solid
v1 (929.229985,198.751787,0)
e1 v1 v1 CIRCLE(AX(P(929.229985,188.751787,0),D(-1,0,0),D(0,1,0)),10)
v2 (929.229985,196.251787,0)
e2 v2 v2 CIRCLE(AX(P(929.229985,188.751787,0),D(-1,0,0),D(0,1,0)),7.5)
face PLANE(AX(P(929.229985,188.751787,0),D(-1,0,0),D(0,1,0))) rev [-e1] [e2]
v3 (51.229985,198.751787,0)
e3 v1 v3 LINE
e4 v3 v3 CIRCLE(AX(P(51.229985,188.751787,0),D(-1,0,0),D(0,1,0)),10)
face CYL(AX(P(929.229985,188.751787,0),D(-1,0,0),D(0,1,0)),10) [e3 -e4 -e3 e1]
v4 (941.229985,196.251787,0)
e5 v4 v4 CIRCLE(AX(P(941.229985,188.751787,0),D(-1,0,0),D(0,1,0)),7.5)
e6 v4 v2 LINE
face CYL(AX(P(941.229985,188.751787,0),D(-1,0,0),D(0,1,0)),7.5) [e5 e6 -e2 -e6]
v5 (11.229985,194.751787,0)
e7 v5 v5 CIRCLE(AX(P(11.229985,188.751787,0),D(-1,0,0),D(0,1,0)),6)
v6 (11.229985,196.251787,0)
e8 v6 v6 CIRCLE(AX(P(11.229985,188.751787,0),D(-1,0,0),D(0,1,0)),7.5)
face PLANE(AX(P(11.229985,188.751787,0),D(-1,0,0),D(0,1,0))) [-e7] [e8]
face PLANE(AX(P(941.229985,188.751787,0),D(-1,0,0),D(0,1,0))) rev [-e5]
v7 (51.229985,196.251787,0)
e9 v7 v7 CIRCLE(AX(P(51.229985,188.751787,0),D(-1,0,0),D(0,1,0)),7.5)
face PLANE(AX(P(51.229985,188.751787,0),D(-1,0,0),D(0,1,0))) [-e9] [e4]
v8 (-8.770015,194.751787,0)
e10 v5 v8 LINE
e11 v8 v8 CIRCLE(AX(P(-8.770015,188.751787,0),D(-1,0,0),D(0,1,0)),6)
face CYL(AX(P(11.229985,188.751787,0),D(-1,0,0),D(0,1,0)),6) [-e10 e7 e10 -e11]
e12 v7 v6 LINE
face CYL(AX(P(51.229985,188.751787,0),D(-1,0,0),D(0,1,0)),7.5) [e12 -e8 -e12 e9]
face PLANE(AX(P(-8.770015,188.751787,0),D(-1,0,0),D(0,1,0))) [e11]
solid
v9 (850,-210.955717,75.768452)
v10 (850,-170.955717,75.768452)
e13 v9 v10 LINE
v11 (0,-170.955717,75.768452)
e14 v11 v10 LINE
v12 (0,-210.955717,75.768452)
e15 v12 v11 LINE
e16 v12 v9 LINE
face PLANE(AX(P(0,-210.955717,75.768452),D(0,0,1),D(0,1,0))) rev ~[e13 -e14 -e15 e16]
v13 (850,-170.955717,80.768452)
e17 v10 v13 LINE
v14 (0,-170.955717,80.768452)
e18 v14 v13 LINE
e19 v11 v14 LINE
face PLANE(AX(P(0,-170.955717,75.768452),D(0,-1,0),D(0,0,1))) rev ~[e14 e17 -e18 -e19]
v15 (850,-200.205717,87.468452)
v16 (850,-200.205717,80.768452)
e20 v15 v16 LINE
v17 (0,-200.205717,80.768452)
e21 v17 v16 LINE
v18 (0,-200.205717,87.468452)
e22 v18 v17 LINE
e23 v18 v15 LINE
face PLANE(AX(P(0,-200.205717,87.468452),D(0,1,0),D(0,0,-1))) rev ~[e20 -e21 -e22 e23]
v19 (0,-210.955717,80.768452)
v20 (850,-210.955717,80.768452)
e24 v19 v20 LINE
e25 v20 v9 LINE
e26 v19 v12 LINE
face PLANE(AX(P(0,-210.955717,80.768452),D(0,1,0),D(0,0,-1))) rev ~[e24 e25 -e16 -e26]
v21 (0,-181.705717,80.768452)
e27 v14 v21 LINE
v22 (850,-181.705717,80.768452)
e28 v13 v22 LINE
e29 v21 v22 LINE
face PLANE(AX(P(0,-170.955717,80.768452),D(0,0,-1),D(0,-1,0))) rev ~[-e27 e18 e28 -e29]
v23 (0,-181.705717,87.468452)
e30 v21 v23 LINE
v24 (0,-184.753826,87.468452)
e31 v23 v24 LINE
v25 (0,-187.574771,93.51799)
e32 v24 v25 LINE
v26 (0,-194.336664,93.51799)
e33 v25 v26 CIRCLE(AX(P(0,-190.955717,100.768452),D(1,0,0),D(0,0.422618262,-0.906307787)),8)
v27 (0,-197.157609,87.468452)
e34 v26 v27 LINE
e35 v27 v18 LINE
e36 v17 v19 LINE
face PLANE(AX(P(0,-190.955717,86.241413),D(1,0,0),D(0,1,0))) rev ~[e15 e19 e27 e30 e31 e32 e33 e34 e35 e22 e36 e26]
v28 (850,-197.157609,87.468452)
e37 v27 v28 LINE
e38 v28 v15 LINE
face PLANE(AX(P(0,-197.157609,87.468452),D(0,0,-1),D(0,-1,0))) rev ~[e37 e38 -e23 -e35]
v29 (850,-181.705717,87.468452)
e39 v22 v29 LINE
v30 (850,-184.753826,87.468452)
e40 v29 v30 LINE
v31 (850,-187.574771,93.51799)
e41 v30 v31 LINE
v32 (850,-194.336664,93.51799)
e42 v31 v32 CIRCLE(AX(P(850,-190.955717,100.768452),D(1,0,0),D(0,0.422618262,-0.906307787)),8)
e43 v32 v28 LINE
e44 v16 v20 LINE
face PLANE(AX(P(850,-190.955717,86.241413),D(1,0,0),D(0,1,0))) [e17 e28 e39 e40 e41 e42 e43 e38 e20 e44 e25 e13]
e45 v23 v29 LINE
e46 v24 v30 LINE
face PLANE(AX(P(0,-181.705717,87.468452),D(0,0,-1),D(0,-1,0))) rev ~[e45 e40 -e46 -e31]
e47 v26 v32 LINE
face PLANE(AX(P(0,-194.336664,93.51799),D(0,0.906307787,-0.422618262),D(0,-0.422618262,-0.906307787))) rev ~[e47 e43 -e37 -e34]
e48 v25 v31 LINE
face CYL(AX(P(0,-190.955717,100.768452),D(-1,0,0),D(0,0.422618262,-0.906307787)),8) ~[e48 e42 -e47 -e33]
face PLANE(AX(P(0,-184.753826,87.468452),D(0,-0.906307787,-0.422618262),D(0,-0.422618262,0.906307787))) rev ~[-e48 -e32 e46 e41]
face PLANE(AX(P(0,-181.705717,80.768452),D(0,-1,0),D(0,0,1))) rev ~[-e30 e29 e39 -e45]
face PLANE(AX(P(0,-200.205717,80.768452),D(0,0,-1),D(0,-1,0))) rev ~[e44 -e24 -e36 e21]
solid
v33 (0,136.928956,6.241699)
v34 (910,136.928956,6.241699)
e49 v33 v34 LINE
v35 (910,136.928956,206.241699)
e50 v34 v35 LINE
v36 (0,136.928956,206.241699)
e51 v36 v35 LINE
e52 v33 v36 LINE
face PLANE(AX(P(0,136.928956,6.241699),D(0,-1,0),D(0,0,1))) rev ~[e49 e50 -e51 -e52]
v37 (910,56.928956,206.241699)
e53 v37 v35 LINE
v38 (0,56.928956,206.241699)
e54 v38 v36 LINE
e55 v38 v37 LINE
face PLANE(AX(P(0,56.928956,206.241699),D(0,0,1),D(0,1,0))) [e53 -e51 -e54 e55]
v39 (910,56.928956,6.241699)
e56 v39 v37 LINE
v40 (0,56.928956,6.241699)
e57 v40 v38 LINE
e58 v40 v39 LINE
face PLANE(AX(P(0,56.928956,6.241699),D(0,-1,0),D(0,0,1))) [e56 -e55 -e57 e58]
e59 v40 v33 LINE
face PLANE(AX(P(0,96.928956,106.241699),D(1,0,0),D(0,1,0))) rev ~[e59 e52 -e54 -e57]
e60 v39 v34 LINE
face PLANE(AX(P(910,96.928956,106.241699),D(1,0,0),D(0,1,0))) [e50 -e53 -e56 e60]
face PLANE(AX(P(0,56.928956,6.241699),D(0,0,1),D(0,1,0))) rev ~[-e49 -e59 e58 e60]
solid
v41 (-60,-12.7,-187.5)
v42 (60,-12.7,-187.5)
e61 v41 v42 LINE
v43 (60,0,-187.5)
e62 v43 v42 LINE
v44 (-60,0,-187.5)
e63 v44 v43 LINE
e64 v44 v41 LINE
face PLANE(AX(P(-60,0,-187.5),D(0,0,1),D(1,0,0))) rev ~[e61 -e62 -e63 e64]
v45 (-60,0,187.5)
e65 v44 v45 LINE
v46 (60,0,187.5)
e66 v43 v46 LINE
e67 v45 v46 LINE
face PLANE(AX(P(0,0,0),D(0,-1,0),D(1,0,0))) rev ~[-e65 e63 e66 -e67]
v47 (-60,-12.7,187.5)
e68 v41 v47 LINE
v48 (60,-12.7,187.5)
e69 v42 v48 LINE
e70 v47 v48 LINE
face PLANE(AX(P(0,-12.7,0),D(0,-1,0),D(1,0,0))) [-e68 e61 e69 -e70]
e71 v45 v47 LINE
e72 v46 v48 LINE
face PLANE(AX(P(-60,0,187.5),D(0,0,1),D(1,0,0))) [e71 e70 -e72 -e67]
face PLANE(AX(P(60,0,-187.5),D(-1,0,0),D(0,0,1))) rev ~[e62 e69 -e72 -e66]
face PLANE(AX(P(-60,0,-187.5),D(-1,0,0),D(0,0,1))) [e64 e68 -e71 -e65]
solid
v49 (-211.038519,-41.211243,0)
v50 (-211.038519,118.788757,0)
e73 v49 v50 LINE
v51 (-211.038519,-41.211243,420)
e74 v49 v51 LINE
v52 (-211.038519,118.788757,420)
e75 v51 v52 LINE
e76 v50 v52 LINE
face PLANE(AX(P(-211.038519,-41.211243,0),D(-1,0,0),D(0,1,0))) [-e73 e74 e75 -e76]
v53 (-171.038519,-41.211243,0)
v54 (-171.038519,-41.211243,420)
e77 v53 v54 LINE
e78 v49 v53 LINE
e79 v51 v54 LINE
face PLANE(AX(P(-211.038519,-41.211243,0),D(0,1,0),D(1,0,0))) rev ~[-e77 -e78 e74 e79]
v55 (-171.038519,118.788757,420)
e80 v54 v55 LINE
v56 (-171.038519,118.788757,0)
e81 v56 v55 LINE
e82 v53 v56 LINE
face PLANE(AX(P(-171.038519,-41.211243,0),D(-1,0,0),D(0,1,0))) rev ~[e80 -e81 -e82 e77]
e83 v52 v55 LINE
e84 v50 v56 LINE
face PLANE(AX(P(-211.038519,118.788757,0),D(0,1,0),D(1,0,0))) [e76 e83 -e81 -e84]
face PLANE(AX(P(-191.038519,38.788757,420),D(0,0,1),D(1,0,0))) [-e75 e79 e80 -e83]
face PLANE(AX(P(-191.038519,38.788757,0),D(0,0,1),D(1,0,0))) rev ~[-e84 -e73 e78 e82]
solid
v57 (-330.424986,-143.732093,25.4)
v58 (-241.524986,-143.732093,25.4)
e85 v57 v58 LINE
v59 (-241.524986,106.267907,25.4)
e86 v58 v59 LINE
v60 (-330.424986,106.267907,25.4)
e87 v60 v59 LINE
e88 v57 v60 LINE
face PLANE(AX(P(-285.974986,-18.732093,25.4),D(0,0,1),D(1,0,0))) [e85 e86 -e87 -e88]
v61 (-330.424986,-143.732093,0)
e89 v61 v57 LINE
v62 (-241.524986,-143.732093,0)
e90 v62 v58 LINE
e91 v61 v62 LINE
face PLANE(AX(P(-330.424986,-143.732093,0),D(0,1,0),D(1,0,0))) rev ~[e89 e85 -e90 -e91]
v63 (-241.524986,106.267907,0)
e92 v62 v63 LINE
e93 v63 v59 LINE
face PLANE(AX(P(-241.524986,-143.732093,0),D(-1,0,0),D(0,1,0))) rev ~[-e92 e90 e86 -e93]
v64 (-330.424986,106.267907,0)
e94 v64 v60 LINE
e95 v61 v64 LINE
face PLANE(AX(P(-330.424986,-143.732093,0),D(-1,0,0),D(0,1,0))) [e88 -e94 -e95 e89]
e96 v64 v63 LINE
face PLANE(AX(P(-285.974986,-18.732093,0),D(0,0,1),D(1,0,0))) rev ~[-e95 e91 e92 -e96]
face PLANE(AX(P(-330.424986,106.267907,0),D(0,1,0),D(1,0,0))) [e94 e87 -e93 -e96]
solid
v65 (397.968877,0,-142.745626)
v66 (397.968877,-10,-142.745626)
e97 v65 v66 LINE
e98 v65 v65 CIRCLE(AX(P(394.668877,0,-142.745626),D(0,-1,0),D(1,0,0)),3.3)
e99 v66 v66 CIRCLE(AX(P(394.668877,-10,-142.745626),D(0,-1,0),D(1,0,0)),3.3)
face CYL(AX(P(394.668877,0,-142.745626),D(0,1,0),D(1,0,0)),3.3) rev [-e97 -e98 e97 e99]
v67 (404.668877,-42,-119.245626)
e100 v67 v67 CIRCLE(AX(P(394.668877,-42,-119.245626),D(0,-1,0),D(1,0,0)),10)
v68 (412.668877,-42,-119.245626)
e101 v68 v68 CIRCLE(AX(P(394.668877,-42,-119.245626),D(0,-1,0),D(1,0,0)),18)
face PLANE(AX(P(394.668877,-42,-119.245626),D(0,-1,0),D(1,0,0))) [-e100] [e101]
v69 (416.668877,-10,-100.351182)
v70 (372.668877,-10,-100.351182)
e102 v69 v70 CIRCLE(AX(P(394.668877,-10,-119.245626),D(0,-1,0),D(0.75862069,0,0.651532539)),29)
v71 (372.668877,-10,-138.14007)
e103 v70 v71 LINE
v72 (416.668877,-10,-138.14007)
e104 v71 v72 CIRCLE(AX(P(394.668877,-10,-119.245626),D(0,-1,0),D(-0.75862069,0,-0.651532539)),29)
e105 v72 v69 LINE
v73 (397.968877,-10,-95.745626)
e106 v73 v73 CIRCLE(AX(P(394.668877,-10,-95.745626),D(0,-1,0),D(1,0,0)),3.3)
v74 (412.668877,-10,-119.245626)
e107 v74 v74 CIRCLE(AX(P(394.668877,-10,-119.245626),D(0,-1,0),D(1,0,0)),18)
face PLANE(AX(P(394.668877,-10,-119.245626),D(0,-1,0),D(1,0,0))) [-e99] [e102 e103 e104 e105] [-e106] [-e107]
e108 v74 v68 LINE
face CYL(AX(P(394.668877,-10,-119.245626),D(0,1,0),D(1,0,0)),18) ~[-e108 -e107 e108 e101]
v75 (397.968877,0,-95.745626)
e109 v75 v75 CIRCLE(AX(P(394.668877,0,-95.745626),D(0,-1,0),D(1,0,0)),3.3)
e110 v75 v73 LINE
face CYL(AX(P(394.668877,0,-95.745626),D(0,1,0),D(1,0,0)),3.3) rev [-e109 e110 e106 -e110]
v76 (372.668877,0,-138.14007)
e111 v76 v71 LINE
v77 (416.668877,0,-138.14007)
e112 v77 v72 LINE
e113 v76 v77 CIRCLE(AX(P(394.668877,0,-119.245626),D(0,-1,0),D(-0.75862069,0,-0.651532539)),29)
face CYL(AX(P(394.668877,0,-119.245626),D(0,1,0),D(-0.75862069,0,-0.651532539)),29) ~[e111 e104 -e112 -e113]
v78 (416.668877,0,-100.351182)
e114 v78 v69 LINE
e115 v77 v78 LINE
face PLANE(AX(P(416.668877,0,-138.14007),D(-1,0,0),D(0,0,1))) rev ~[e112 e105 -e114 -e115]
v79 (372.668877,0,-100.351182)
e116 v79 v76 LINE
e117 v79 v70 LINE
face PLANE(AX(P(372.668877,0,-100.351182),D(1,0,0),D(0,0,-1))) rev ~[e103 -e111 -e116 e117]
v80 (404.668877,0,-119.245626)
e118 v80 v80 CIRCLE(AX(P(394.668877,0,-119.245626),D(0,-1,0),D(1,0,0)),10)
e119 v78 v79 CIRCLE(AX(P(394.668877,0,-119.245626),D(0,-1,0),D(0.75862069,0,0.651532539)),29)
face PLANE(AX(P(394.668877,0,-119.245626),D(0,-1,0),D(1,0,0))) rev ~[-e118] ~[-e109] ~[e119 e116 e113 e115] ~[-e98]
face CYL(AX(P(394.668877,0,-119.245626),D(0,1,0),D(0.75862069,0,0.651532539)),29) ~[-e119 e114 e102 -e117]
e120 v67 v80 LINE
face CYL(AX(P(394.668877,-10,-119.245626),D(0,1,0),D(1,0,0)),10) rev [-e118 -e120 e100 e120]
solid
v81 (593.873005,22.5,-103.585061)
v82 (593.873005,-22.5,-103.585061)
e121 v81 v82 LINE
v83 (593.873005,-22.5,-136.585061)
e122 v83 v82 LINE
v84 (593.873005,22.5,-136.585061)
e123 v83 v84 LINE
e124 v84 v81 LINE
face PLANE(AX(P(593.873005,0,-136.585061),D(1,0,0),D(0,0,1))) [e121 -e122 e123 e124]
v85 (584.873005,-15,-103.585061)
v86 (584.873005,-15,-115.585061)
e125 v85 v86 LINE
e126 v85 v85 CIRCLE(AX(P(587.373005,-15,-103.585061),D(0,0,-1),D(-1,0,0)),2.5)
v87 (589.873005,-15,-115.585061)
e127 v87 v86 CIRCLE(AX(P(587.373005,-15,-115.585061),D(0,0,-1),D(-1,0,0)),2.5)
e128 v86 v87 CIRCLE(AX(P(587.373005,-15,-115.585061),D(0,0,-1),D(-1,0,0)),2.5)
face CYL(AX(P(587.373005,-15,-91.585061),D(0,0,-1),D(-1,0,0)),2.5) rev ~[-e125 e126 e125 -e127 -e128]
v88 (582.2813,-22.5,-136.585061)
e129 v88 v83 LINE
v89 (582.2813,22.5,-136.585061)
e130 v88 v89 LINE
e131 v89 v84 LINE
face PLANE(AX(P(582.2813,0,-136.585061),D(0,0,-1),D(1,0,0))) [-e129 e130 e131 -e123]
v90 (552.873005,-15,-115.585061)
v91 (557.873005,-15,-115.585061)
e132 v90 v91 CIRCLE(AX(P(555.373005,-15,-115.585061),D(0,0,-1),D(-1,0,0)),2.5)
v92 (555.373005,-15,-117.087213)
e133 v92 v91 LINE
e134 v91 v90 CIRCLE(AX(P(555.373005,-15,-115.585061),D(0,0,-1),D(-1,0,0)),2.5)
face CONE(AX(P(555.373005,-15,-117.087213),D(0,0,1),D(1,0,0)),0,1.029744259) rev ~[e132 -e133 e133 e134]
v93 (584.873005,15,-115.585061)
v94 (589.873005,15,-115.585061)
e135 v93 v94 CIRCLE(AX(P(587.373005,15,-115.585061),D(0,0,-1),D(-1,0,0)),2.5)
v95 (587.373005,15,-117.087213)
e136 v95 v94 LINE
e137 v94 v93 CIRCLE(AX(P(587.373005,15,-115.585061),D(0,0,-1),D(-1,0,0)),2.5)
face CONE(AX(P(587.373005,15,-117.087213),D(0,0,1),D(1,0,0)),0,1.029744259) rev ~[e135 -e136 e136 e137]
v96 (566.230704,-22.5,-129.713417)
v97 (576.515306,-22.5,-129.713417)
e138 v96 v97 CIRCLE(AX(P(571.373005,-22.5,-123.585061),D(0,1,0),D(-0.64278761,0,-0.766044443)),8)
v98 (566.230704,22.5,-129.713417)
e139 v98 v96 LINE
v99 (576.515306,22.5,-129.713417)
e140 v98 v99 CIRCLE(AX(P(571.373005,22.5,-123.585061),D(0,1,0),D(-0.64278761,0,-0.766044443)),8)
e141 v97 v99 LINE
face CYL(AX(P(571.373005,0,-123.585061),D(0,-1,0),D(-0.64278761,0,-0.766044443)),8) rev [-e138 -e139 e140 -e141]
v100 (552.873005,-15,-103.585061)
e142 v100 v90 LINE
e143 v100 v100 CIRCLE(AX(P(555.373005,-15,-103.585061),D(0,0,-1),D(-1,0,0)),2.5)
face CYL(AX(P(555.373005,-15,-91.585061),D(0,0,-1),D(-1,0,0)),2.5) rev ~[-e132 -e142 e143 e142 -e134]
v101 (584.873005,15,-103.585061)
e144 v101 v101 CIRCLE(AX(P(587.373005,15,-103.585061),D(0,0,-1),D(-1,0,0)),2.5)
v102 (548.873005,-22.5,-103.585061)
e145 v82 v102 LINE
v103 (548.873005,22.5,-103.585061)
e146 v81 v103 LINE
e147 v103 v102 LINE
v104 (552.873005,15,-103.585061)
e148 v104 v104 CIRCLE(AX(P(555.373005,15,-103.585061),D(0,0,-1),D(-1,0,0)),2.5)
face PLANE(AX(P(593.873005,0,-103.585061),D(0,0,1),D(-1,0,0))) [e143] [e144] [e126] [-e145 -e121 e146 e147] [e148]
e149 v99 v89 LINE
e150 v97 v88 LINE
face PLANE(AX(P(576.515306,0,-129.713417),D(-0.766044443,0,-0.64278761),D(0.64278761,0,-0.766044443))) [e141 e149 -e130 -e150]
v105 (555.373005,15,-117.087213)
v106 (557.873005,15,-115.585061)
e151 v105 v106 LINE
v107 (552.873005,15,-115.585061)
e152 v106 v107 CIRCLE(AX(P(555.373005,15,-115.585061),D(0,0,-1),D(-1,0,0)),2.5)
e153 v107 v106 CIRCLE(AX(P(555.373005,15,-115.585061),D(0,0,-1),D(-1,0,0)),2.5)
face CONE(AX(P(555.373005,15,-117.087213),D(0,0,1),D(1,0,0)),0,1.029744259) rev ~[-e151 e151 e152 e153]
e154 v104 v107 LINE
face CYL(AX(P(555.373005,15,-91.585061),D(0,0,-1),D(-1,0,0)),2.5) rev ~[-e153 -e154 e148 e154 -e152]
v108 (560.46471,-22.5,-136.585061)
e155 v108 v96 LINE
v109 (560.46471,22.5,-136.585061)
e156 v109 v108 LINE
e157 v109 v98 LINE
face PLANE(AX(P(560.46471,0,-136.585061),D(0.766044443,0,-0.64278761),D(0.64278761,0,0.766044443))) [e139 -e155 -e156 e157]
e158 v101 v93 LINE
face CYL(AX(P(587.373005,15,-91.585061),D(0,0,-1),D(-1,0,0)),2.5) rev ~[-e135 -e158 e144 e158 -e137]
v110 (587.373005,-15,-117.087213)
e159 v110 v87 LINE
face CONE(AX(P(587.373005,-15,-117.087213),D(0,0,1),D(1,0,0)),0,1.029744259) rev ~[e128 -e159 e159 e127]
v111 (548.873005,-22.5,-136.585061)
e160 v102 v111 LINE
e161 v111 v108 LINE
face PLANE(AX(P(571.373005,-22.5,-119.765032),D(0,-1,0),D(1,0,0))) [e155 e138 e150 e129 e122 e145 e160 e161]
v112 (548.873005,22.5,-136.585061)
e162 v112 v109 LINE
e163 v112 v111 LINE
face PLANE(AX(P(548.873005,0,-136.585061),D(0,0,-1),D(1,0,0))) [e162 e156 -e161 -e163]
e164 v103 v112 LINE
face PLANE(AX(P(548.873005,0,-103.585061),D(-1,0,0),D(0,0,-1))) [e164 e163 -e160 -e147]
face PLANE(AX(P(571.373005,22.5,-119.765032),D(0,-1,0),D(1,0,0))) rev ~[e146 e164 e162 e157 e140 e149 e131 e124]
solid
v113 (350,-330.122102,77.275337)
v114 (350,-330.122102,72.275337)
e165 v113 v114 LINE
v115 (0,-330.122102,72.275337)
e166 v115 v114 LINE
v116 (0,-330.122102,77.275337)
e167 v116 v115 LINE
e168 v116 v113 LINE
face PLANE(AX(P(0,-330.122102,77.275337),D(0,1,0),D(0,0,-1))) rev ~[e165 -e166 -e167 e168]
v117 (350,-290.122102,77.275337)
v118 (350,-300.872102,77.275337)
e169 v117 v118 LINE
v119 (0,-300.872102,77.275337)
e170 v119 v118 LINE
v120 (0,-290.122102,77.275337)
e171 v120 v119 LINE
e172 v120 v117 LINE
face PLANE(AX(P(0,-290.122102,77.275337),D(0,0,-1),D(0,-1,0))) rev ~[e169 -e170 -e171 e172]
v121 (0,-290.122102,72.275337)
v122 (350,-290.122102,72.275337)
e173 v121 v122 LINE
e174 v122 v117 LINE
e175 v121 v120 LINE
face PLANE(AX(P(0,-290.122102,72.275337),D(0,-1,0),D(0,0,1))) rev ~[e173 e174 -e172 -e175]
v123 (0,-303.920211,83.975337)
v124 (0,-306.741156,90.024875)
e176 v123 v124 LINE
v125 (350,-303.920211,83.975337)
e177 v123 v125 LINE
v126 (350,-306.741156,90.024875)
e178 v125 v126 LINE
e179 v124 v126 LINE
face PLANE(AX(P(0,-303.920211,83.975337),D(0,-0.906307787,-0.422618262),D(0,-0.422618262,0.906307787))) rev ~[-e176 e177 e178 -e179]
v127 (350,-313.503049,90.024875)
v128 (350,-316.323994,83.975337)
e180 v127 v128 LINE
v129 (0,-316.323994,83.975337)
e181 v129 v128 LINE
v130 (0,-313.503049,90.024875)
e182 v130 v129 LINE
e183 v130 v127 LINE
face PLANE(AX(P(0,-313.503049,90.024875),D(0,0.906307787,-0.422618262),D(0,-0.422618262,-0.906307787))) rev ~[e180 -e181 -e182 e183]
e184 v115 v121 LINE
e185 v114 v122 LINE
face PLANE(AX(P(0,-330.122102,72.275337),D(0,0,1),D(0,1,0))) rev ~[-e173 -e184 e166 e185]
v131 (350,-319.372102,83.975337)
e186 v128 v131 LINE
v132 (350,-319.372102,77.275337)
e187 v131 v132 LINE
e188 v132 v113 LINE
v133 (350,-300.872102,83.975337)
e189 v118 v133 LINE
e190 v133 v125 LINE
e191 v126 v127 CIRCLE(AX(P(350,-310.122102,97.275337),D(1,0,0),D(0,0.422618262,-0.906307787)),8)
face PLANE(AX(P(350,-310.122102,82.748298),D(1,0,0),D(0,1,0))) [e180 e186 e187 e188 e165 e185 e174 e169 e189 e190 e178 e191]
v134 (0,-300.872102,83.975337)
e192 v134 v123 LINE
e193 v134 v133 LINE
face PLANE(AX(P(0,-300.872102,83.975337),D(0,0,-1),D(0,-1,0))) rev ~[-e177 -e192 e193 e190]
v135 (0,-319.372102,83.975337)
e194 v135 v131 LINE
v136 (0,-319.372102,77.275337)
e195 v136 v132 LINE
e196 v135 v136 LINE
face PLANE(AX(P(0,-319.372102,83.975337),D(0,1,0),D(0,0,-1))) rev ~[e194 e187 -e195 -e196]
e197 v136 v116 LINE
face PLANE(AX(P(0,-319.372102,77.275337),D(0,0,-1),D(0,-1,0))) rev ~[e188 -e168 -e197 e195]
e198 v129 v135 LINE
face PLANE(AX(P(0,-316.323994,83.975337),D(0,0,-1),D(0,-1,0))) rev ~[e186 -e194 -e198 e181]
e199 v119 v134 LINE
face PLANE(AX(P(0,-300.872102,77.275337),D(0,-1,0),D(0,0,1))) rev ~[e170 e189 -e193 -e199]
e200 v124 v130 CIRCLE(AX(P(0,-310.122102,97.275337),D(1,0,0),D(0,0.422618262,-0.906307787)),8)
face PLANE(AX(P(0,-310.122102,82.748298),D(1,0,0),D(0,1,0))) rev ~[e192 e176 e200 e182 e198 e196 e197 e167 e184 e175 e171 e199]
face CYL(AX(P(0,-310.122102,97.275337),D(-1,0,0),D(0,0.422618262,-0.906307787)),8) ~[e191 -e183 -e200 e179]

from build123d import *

# Parameters (mm, degrees)
F0_W      = 120
F0_H      = 375
F1_DEPTH  = 12.7
F2_W      = 80
F2_H      = 200
F3_DEPTH  = 910
F4_W      = 40
F4_H      = 160
F5_DEPTH  = 420
F6_W      = 88.9
F6_H      = 250
F7_DEPTH  = 25.4
F9_DEPTH  = 22.5
F11_D     = 5
F11_DEPTH = 12
F11_TIP   = 1.5021515476
F12_R     = 3.3
F12_R_2   = 10
F13_DEPTH = 10
F14_R     = 18
F14_R_2   = 10
F15_DEPTH = 32
F19_DEPTH = 850
F21_DEPTH = 350


with BuildPart() as f1:
    # F0 (on Front) → F1 (new body)
    with BuildSketch(Plane.XZ):
        Rectangle(F0_W, F0_H)
    extrude(amount=F1_DEPTH)


with BuildPart() as f3:
    # F2 (on Right) → F3 (new body)
    with BuildSketch(Plane.YZ):
        with Locations((96.9289559871, 106.2416992025)):
            Rectangle(F2_W, F2_H)
    extrude(amount=F3_DEPTH)


with BuildPart() as f5:
    # F4 (on Top) → F5 (new body)
    with BuildSketch(Plane.XY):
        with Locations((-191.0385191441, 38.7887568785)):
            Rectangle(F4_W, F4_H)
    extrude(amount=F5_DEPTH)


with BuildPart() as f7:
    # F6 (on Top) → F7 (new body)
    with BuildSketch(Plane.XY):
        with Locations((-285.9749857664, -18.732093201)):
            Rectangle(F6_W, F6_H)
    extrude(amount=F7_DEPTH)


with BuildPart() as f9:
    # F8 (on Front) → F9 (new body, symmetric)
    with BuildSketch(Plane.XZ):
        with BuildLine():
            Line((593.8730051517, -136.5850613447), (593.8730051517, -103.5850613447))
            Line((593.8730051517, -103.5850613447), (548.8730051517, -103.5850613447))
            Line((548.8730051517, -103.5850613447), (548.8730051517, -136.5850613447))
            Line((548.8730051517, -136.5850613447), (560.4647099464, -136.5850613447))
            Line((560.4647099464, -136.5850613447), (566.2307042743, -129.7134168896))
            ThreePointArc((566.2307042743, -129.7134168896), (571.3730051517, -115.5850613447), (576.5153060292, -129.7134168896))
            Line((576.5153060292, -129.7134168896), (582.2813003571, -136.5850613447))
            Line((582.2813003571, -136.5850613447), (593.8730051517, -136.5850613447))
        make_face()
    extrude(amount=F9_DEPTH, both=True)

    # F11
    with Locations(Plane.XY.offset(-103.5850613447)):
        with Locations((555.3730051517, 15), (587.3730051517, 15), (587.3730051517, -15), (555.3730051517, -15)):
            Hole(F11_D / 2, depth=F11_DEPTH)
            with Locations((0, 0, -(F11_DEPTH + F11_TIP / 2))):  # 118° drill point
                Cone(0, F11_D / 2, F11_TIP, mode=Mode.SUBTRACT)


with BuildPart() as f13:
    # F12 (on Front) → F13 (new body)
    with BuildSketch(Plane.XZ):
        with BuildLine():
            Line((416.6688771248, -138.14006966), (416.6688771248, -100.3511824047))
            ThreePointArc((416.6688771248, -100.3511824047), (394.6688771248, -90.2456260324), (372.6688771248, -100.3511824047))
            Line((372.6688771248, -100.3511824047), (372.6688771248, -138.14006966))
            ThreePointArc((372.6688771248, -138.14006966), (394.6688771248, -148.2456260324), (416.6688771248, -138.14006966))
        make_face()
        with Locations((394.6688771248, -142.7456260324)):
            Circle(F12_R, mode=Mode.SUBTRACT)
        with Locations((394.6688771248, -119.2456260324)):
            Circle(F12_R_2, mode=Mode.SUBTRACT)
        with Locations((394.6688771248, -95.7456260324)):
            Circle(F12_R, mode=Mode.SUBTRACT)
    extrude(amount=F13_DEPTH)

    # F14 (on face) → F15 (join)
    with BuildSketch(Plane.XZ.offset(10)):
        with Locations((394.6688771248, -119.2456260324)):
            Circle(F14_R)
        with Locations((394.6688771248, -119.2456260324)):
            Circle(F14_R_2, mode=Mode.SUBTRACT)
    extrude(amount=F15_DEPTH)


with BuildPart() as f17:
    # F16 (on Top) → F17 (revolve)
    with BuildSketch(Plane.XY):
        Polygon((-8.7700150907, 194.7517869473), (-8.7700150907, 188.7517869473), (941.2299849093, 188.7517869473), (941.2299849093, 196.2517869473), (929.2299849093, 196.2517869473), (929.2299849093, 198.7517869473), (51.2299849093, 198.7517869473), (51.2299849093, 196.2517869473), (11.2299849093, 196.2517869473), (11.2299849093, 194.7517869473), align=None)
    revolve(axis=Axis((-40.8084288169, 188.7517869473, 0), (-1, 0, 0)))


with BuildPart() as f19:
    # F18 (on Right) → F19 (new body)
    with BuildSketch(Plane.YZ):
        with BuildLine():
            Line((-210.9557174785, 80.7684522526), (-210.9557174785, 75.7684522526))
            Line((-210.9557174785, 75.7684522526), (-170.9557174785, 75.7684522526))
            Line((-170.9557174785, 75.7684522526), (-170.9557174785, 80.7684522526))
            Line((-170.9557174785, 80.7684522526), (-181.7057174785, 80.7684522526))
            Line((-181.7057174785, 80.7684522526), (-181.7057174785, 87.4684522526))
            Line((-181.7057174785, 87.4684522526), (-184.753825625, 87.4684522526))
            Line((-184.753825625, 87.4684522526), (-187.5747713846, 93.5179899563))
            ThreePointArc((-187.5747713846, 93.5179899563), (-190.9557174785, 108.7684522526), (-194.3366635724, 93.5179899563))
            Line((-194.3366635724, 93.5179899563), (-197.1576093319, 87.4684522526))
            Line((-197.1576093319, 87.4684522526), (-200.2057174785, 87.4684522526))
            Line((-200.2057174785, 87.4684522526), (-200.2057174785, 80.7684522526))
            Line((-200.2057174785, 80.7684522526), (-210.9557174785, 80.7684522526))
        make_face()
    extrude(amount=F19_DEPTH)


with BuildPart() as f21:
    # F20 (on Right) → F21 (new body)
    with BuildSketch(Plane.YZ):
        with BuildLine():
            Line((-330.122102499, 77.2753372088), (-330.122102499, 72.2753372088))
            Line((-330.122102499, 72.2753372088), (-290.122102499, 72.2753372088))
            Line((-290.122102499, 72.2753372088), (-290.122102499, 77.2753372088))
            Line((-290.122102499, 77.2753372088), (-300.872102499, 77.2753372088))
            Line((-300.872102499, 77.2753372088), (-300.872102499, 83.9753372088))
            Line((-300.872102499, 83.9753372088), (-303.9202106455, 83.9753372088))
            Line((-303.9202106455, 83.9753372088), (-306.7411564051, 90.0248749125))
            ThreePointArc((-306.7411564051, 90.0248749125), (-310.122102499, 105.2753372088), (-313.5030485929, 90.0248749125))
            Line((-313.5030485929, 90.0248749125), (-316.3239943525, 83.9753372088))
            Line((-316.3239943525, 83.9753372088), (-319.372102499, 83.9753372088))
            Line((-319.372102499, 83.9753372088), (-319.372102499, 77.2753372088))
            Line((-319.372102499, 77.2753372088), (-330.122102499, 77.2753372088))
        make_face()
    extrude(amount=F21_DEPTH)


solid = Compound([f1.part, f3.part, f5.part, f7.part, f9.part, f13.part, f17.part, f19.part, f21.part])
